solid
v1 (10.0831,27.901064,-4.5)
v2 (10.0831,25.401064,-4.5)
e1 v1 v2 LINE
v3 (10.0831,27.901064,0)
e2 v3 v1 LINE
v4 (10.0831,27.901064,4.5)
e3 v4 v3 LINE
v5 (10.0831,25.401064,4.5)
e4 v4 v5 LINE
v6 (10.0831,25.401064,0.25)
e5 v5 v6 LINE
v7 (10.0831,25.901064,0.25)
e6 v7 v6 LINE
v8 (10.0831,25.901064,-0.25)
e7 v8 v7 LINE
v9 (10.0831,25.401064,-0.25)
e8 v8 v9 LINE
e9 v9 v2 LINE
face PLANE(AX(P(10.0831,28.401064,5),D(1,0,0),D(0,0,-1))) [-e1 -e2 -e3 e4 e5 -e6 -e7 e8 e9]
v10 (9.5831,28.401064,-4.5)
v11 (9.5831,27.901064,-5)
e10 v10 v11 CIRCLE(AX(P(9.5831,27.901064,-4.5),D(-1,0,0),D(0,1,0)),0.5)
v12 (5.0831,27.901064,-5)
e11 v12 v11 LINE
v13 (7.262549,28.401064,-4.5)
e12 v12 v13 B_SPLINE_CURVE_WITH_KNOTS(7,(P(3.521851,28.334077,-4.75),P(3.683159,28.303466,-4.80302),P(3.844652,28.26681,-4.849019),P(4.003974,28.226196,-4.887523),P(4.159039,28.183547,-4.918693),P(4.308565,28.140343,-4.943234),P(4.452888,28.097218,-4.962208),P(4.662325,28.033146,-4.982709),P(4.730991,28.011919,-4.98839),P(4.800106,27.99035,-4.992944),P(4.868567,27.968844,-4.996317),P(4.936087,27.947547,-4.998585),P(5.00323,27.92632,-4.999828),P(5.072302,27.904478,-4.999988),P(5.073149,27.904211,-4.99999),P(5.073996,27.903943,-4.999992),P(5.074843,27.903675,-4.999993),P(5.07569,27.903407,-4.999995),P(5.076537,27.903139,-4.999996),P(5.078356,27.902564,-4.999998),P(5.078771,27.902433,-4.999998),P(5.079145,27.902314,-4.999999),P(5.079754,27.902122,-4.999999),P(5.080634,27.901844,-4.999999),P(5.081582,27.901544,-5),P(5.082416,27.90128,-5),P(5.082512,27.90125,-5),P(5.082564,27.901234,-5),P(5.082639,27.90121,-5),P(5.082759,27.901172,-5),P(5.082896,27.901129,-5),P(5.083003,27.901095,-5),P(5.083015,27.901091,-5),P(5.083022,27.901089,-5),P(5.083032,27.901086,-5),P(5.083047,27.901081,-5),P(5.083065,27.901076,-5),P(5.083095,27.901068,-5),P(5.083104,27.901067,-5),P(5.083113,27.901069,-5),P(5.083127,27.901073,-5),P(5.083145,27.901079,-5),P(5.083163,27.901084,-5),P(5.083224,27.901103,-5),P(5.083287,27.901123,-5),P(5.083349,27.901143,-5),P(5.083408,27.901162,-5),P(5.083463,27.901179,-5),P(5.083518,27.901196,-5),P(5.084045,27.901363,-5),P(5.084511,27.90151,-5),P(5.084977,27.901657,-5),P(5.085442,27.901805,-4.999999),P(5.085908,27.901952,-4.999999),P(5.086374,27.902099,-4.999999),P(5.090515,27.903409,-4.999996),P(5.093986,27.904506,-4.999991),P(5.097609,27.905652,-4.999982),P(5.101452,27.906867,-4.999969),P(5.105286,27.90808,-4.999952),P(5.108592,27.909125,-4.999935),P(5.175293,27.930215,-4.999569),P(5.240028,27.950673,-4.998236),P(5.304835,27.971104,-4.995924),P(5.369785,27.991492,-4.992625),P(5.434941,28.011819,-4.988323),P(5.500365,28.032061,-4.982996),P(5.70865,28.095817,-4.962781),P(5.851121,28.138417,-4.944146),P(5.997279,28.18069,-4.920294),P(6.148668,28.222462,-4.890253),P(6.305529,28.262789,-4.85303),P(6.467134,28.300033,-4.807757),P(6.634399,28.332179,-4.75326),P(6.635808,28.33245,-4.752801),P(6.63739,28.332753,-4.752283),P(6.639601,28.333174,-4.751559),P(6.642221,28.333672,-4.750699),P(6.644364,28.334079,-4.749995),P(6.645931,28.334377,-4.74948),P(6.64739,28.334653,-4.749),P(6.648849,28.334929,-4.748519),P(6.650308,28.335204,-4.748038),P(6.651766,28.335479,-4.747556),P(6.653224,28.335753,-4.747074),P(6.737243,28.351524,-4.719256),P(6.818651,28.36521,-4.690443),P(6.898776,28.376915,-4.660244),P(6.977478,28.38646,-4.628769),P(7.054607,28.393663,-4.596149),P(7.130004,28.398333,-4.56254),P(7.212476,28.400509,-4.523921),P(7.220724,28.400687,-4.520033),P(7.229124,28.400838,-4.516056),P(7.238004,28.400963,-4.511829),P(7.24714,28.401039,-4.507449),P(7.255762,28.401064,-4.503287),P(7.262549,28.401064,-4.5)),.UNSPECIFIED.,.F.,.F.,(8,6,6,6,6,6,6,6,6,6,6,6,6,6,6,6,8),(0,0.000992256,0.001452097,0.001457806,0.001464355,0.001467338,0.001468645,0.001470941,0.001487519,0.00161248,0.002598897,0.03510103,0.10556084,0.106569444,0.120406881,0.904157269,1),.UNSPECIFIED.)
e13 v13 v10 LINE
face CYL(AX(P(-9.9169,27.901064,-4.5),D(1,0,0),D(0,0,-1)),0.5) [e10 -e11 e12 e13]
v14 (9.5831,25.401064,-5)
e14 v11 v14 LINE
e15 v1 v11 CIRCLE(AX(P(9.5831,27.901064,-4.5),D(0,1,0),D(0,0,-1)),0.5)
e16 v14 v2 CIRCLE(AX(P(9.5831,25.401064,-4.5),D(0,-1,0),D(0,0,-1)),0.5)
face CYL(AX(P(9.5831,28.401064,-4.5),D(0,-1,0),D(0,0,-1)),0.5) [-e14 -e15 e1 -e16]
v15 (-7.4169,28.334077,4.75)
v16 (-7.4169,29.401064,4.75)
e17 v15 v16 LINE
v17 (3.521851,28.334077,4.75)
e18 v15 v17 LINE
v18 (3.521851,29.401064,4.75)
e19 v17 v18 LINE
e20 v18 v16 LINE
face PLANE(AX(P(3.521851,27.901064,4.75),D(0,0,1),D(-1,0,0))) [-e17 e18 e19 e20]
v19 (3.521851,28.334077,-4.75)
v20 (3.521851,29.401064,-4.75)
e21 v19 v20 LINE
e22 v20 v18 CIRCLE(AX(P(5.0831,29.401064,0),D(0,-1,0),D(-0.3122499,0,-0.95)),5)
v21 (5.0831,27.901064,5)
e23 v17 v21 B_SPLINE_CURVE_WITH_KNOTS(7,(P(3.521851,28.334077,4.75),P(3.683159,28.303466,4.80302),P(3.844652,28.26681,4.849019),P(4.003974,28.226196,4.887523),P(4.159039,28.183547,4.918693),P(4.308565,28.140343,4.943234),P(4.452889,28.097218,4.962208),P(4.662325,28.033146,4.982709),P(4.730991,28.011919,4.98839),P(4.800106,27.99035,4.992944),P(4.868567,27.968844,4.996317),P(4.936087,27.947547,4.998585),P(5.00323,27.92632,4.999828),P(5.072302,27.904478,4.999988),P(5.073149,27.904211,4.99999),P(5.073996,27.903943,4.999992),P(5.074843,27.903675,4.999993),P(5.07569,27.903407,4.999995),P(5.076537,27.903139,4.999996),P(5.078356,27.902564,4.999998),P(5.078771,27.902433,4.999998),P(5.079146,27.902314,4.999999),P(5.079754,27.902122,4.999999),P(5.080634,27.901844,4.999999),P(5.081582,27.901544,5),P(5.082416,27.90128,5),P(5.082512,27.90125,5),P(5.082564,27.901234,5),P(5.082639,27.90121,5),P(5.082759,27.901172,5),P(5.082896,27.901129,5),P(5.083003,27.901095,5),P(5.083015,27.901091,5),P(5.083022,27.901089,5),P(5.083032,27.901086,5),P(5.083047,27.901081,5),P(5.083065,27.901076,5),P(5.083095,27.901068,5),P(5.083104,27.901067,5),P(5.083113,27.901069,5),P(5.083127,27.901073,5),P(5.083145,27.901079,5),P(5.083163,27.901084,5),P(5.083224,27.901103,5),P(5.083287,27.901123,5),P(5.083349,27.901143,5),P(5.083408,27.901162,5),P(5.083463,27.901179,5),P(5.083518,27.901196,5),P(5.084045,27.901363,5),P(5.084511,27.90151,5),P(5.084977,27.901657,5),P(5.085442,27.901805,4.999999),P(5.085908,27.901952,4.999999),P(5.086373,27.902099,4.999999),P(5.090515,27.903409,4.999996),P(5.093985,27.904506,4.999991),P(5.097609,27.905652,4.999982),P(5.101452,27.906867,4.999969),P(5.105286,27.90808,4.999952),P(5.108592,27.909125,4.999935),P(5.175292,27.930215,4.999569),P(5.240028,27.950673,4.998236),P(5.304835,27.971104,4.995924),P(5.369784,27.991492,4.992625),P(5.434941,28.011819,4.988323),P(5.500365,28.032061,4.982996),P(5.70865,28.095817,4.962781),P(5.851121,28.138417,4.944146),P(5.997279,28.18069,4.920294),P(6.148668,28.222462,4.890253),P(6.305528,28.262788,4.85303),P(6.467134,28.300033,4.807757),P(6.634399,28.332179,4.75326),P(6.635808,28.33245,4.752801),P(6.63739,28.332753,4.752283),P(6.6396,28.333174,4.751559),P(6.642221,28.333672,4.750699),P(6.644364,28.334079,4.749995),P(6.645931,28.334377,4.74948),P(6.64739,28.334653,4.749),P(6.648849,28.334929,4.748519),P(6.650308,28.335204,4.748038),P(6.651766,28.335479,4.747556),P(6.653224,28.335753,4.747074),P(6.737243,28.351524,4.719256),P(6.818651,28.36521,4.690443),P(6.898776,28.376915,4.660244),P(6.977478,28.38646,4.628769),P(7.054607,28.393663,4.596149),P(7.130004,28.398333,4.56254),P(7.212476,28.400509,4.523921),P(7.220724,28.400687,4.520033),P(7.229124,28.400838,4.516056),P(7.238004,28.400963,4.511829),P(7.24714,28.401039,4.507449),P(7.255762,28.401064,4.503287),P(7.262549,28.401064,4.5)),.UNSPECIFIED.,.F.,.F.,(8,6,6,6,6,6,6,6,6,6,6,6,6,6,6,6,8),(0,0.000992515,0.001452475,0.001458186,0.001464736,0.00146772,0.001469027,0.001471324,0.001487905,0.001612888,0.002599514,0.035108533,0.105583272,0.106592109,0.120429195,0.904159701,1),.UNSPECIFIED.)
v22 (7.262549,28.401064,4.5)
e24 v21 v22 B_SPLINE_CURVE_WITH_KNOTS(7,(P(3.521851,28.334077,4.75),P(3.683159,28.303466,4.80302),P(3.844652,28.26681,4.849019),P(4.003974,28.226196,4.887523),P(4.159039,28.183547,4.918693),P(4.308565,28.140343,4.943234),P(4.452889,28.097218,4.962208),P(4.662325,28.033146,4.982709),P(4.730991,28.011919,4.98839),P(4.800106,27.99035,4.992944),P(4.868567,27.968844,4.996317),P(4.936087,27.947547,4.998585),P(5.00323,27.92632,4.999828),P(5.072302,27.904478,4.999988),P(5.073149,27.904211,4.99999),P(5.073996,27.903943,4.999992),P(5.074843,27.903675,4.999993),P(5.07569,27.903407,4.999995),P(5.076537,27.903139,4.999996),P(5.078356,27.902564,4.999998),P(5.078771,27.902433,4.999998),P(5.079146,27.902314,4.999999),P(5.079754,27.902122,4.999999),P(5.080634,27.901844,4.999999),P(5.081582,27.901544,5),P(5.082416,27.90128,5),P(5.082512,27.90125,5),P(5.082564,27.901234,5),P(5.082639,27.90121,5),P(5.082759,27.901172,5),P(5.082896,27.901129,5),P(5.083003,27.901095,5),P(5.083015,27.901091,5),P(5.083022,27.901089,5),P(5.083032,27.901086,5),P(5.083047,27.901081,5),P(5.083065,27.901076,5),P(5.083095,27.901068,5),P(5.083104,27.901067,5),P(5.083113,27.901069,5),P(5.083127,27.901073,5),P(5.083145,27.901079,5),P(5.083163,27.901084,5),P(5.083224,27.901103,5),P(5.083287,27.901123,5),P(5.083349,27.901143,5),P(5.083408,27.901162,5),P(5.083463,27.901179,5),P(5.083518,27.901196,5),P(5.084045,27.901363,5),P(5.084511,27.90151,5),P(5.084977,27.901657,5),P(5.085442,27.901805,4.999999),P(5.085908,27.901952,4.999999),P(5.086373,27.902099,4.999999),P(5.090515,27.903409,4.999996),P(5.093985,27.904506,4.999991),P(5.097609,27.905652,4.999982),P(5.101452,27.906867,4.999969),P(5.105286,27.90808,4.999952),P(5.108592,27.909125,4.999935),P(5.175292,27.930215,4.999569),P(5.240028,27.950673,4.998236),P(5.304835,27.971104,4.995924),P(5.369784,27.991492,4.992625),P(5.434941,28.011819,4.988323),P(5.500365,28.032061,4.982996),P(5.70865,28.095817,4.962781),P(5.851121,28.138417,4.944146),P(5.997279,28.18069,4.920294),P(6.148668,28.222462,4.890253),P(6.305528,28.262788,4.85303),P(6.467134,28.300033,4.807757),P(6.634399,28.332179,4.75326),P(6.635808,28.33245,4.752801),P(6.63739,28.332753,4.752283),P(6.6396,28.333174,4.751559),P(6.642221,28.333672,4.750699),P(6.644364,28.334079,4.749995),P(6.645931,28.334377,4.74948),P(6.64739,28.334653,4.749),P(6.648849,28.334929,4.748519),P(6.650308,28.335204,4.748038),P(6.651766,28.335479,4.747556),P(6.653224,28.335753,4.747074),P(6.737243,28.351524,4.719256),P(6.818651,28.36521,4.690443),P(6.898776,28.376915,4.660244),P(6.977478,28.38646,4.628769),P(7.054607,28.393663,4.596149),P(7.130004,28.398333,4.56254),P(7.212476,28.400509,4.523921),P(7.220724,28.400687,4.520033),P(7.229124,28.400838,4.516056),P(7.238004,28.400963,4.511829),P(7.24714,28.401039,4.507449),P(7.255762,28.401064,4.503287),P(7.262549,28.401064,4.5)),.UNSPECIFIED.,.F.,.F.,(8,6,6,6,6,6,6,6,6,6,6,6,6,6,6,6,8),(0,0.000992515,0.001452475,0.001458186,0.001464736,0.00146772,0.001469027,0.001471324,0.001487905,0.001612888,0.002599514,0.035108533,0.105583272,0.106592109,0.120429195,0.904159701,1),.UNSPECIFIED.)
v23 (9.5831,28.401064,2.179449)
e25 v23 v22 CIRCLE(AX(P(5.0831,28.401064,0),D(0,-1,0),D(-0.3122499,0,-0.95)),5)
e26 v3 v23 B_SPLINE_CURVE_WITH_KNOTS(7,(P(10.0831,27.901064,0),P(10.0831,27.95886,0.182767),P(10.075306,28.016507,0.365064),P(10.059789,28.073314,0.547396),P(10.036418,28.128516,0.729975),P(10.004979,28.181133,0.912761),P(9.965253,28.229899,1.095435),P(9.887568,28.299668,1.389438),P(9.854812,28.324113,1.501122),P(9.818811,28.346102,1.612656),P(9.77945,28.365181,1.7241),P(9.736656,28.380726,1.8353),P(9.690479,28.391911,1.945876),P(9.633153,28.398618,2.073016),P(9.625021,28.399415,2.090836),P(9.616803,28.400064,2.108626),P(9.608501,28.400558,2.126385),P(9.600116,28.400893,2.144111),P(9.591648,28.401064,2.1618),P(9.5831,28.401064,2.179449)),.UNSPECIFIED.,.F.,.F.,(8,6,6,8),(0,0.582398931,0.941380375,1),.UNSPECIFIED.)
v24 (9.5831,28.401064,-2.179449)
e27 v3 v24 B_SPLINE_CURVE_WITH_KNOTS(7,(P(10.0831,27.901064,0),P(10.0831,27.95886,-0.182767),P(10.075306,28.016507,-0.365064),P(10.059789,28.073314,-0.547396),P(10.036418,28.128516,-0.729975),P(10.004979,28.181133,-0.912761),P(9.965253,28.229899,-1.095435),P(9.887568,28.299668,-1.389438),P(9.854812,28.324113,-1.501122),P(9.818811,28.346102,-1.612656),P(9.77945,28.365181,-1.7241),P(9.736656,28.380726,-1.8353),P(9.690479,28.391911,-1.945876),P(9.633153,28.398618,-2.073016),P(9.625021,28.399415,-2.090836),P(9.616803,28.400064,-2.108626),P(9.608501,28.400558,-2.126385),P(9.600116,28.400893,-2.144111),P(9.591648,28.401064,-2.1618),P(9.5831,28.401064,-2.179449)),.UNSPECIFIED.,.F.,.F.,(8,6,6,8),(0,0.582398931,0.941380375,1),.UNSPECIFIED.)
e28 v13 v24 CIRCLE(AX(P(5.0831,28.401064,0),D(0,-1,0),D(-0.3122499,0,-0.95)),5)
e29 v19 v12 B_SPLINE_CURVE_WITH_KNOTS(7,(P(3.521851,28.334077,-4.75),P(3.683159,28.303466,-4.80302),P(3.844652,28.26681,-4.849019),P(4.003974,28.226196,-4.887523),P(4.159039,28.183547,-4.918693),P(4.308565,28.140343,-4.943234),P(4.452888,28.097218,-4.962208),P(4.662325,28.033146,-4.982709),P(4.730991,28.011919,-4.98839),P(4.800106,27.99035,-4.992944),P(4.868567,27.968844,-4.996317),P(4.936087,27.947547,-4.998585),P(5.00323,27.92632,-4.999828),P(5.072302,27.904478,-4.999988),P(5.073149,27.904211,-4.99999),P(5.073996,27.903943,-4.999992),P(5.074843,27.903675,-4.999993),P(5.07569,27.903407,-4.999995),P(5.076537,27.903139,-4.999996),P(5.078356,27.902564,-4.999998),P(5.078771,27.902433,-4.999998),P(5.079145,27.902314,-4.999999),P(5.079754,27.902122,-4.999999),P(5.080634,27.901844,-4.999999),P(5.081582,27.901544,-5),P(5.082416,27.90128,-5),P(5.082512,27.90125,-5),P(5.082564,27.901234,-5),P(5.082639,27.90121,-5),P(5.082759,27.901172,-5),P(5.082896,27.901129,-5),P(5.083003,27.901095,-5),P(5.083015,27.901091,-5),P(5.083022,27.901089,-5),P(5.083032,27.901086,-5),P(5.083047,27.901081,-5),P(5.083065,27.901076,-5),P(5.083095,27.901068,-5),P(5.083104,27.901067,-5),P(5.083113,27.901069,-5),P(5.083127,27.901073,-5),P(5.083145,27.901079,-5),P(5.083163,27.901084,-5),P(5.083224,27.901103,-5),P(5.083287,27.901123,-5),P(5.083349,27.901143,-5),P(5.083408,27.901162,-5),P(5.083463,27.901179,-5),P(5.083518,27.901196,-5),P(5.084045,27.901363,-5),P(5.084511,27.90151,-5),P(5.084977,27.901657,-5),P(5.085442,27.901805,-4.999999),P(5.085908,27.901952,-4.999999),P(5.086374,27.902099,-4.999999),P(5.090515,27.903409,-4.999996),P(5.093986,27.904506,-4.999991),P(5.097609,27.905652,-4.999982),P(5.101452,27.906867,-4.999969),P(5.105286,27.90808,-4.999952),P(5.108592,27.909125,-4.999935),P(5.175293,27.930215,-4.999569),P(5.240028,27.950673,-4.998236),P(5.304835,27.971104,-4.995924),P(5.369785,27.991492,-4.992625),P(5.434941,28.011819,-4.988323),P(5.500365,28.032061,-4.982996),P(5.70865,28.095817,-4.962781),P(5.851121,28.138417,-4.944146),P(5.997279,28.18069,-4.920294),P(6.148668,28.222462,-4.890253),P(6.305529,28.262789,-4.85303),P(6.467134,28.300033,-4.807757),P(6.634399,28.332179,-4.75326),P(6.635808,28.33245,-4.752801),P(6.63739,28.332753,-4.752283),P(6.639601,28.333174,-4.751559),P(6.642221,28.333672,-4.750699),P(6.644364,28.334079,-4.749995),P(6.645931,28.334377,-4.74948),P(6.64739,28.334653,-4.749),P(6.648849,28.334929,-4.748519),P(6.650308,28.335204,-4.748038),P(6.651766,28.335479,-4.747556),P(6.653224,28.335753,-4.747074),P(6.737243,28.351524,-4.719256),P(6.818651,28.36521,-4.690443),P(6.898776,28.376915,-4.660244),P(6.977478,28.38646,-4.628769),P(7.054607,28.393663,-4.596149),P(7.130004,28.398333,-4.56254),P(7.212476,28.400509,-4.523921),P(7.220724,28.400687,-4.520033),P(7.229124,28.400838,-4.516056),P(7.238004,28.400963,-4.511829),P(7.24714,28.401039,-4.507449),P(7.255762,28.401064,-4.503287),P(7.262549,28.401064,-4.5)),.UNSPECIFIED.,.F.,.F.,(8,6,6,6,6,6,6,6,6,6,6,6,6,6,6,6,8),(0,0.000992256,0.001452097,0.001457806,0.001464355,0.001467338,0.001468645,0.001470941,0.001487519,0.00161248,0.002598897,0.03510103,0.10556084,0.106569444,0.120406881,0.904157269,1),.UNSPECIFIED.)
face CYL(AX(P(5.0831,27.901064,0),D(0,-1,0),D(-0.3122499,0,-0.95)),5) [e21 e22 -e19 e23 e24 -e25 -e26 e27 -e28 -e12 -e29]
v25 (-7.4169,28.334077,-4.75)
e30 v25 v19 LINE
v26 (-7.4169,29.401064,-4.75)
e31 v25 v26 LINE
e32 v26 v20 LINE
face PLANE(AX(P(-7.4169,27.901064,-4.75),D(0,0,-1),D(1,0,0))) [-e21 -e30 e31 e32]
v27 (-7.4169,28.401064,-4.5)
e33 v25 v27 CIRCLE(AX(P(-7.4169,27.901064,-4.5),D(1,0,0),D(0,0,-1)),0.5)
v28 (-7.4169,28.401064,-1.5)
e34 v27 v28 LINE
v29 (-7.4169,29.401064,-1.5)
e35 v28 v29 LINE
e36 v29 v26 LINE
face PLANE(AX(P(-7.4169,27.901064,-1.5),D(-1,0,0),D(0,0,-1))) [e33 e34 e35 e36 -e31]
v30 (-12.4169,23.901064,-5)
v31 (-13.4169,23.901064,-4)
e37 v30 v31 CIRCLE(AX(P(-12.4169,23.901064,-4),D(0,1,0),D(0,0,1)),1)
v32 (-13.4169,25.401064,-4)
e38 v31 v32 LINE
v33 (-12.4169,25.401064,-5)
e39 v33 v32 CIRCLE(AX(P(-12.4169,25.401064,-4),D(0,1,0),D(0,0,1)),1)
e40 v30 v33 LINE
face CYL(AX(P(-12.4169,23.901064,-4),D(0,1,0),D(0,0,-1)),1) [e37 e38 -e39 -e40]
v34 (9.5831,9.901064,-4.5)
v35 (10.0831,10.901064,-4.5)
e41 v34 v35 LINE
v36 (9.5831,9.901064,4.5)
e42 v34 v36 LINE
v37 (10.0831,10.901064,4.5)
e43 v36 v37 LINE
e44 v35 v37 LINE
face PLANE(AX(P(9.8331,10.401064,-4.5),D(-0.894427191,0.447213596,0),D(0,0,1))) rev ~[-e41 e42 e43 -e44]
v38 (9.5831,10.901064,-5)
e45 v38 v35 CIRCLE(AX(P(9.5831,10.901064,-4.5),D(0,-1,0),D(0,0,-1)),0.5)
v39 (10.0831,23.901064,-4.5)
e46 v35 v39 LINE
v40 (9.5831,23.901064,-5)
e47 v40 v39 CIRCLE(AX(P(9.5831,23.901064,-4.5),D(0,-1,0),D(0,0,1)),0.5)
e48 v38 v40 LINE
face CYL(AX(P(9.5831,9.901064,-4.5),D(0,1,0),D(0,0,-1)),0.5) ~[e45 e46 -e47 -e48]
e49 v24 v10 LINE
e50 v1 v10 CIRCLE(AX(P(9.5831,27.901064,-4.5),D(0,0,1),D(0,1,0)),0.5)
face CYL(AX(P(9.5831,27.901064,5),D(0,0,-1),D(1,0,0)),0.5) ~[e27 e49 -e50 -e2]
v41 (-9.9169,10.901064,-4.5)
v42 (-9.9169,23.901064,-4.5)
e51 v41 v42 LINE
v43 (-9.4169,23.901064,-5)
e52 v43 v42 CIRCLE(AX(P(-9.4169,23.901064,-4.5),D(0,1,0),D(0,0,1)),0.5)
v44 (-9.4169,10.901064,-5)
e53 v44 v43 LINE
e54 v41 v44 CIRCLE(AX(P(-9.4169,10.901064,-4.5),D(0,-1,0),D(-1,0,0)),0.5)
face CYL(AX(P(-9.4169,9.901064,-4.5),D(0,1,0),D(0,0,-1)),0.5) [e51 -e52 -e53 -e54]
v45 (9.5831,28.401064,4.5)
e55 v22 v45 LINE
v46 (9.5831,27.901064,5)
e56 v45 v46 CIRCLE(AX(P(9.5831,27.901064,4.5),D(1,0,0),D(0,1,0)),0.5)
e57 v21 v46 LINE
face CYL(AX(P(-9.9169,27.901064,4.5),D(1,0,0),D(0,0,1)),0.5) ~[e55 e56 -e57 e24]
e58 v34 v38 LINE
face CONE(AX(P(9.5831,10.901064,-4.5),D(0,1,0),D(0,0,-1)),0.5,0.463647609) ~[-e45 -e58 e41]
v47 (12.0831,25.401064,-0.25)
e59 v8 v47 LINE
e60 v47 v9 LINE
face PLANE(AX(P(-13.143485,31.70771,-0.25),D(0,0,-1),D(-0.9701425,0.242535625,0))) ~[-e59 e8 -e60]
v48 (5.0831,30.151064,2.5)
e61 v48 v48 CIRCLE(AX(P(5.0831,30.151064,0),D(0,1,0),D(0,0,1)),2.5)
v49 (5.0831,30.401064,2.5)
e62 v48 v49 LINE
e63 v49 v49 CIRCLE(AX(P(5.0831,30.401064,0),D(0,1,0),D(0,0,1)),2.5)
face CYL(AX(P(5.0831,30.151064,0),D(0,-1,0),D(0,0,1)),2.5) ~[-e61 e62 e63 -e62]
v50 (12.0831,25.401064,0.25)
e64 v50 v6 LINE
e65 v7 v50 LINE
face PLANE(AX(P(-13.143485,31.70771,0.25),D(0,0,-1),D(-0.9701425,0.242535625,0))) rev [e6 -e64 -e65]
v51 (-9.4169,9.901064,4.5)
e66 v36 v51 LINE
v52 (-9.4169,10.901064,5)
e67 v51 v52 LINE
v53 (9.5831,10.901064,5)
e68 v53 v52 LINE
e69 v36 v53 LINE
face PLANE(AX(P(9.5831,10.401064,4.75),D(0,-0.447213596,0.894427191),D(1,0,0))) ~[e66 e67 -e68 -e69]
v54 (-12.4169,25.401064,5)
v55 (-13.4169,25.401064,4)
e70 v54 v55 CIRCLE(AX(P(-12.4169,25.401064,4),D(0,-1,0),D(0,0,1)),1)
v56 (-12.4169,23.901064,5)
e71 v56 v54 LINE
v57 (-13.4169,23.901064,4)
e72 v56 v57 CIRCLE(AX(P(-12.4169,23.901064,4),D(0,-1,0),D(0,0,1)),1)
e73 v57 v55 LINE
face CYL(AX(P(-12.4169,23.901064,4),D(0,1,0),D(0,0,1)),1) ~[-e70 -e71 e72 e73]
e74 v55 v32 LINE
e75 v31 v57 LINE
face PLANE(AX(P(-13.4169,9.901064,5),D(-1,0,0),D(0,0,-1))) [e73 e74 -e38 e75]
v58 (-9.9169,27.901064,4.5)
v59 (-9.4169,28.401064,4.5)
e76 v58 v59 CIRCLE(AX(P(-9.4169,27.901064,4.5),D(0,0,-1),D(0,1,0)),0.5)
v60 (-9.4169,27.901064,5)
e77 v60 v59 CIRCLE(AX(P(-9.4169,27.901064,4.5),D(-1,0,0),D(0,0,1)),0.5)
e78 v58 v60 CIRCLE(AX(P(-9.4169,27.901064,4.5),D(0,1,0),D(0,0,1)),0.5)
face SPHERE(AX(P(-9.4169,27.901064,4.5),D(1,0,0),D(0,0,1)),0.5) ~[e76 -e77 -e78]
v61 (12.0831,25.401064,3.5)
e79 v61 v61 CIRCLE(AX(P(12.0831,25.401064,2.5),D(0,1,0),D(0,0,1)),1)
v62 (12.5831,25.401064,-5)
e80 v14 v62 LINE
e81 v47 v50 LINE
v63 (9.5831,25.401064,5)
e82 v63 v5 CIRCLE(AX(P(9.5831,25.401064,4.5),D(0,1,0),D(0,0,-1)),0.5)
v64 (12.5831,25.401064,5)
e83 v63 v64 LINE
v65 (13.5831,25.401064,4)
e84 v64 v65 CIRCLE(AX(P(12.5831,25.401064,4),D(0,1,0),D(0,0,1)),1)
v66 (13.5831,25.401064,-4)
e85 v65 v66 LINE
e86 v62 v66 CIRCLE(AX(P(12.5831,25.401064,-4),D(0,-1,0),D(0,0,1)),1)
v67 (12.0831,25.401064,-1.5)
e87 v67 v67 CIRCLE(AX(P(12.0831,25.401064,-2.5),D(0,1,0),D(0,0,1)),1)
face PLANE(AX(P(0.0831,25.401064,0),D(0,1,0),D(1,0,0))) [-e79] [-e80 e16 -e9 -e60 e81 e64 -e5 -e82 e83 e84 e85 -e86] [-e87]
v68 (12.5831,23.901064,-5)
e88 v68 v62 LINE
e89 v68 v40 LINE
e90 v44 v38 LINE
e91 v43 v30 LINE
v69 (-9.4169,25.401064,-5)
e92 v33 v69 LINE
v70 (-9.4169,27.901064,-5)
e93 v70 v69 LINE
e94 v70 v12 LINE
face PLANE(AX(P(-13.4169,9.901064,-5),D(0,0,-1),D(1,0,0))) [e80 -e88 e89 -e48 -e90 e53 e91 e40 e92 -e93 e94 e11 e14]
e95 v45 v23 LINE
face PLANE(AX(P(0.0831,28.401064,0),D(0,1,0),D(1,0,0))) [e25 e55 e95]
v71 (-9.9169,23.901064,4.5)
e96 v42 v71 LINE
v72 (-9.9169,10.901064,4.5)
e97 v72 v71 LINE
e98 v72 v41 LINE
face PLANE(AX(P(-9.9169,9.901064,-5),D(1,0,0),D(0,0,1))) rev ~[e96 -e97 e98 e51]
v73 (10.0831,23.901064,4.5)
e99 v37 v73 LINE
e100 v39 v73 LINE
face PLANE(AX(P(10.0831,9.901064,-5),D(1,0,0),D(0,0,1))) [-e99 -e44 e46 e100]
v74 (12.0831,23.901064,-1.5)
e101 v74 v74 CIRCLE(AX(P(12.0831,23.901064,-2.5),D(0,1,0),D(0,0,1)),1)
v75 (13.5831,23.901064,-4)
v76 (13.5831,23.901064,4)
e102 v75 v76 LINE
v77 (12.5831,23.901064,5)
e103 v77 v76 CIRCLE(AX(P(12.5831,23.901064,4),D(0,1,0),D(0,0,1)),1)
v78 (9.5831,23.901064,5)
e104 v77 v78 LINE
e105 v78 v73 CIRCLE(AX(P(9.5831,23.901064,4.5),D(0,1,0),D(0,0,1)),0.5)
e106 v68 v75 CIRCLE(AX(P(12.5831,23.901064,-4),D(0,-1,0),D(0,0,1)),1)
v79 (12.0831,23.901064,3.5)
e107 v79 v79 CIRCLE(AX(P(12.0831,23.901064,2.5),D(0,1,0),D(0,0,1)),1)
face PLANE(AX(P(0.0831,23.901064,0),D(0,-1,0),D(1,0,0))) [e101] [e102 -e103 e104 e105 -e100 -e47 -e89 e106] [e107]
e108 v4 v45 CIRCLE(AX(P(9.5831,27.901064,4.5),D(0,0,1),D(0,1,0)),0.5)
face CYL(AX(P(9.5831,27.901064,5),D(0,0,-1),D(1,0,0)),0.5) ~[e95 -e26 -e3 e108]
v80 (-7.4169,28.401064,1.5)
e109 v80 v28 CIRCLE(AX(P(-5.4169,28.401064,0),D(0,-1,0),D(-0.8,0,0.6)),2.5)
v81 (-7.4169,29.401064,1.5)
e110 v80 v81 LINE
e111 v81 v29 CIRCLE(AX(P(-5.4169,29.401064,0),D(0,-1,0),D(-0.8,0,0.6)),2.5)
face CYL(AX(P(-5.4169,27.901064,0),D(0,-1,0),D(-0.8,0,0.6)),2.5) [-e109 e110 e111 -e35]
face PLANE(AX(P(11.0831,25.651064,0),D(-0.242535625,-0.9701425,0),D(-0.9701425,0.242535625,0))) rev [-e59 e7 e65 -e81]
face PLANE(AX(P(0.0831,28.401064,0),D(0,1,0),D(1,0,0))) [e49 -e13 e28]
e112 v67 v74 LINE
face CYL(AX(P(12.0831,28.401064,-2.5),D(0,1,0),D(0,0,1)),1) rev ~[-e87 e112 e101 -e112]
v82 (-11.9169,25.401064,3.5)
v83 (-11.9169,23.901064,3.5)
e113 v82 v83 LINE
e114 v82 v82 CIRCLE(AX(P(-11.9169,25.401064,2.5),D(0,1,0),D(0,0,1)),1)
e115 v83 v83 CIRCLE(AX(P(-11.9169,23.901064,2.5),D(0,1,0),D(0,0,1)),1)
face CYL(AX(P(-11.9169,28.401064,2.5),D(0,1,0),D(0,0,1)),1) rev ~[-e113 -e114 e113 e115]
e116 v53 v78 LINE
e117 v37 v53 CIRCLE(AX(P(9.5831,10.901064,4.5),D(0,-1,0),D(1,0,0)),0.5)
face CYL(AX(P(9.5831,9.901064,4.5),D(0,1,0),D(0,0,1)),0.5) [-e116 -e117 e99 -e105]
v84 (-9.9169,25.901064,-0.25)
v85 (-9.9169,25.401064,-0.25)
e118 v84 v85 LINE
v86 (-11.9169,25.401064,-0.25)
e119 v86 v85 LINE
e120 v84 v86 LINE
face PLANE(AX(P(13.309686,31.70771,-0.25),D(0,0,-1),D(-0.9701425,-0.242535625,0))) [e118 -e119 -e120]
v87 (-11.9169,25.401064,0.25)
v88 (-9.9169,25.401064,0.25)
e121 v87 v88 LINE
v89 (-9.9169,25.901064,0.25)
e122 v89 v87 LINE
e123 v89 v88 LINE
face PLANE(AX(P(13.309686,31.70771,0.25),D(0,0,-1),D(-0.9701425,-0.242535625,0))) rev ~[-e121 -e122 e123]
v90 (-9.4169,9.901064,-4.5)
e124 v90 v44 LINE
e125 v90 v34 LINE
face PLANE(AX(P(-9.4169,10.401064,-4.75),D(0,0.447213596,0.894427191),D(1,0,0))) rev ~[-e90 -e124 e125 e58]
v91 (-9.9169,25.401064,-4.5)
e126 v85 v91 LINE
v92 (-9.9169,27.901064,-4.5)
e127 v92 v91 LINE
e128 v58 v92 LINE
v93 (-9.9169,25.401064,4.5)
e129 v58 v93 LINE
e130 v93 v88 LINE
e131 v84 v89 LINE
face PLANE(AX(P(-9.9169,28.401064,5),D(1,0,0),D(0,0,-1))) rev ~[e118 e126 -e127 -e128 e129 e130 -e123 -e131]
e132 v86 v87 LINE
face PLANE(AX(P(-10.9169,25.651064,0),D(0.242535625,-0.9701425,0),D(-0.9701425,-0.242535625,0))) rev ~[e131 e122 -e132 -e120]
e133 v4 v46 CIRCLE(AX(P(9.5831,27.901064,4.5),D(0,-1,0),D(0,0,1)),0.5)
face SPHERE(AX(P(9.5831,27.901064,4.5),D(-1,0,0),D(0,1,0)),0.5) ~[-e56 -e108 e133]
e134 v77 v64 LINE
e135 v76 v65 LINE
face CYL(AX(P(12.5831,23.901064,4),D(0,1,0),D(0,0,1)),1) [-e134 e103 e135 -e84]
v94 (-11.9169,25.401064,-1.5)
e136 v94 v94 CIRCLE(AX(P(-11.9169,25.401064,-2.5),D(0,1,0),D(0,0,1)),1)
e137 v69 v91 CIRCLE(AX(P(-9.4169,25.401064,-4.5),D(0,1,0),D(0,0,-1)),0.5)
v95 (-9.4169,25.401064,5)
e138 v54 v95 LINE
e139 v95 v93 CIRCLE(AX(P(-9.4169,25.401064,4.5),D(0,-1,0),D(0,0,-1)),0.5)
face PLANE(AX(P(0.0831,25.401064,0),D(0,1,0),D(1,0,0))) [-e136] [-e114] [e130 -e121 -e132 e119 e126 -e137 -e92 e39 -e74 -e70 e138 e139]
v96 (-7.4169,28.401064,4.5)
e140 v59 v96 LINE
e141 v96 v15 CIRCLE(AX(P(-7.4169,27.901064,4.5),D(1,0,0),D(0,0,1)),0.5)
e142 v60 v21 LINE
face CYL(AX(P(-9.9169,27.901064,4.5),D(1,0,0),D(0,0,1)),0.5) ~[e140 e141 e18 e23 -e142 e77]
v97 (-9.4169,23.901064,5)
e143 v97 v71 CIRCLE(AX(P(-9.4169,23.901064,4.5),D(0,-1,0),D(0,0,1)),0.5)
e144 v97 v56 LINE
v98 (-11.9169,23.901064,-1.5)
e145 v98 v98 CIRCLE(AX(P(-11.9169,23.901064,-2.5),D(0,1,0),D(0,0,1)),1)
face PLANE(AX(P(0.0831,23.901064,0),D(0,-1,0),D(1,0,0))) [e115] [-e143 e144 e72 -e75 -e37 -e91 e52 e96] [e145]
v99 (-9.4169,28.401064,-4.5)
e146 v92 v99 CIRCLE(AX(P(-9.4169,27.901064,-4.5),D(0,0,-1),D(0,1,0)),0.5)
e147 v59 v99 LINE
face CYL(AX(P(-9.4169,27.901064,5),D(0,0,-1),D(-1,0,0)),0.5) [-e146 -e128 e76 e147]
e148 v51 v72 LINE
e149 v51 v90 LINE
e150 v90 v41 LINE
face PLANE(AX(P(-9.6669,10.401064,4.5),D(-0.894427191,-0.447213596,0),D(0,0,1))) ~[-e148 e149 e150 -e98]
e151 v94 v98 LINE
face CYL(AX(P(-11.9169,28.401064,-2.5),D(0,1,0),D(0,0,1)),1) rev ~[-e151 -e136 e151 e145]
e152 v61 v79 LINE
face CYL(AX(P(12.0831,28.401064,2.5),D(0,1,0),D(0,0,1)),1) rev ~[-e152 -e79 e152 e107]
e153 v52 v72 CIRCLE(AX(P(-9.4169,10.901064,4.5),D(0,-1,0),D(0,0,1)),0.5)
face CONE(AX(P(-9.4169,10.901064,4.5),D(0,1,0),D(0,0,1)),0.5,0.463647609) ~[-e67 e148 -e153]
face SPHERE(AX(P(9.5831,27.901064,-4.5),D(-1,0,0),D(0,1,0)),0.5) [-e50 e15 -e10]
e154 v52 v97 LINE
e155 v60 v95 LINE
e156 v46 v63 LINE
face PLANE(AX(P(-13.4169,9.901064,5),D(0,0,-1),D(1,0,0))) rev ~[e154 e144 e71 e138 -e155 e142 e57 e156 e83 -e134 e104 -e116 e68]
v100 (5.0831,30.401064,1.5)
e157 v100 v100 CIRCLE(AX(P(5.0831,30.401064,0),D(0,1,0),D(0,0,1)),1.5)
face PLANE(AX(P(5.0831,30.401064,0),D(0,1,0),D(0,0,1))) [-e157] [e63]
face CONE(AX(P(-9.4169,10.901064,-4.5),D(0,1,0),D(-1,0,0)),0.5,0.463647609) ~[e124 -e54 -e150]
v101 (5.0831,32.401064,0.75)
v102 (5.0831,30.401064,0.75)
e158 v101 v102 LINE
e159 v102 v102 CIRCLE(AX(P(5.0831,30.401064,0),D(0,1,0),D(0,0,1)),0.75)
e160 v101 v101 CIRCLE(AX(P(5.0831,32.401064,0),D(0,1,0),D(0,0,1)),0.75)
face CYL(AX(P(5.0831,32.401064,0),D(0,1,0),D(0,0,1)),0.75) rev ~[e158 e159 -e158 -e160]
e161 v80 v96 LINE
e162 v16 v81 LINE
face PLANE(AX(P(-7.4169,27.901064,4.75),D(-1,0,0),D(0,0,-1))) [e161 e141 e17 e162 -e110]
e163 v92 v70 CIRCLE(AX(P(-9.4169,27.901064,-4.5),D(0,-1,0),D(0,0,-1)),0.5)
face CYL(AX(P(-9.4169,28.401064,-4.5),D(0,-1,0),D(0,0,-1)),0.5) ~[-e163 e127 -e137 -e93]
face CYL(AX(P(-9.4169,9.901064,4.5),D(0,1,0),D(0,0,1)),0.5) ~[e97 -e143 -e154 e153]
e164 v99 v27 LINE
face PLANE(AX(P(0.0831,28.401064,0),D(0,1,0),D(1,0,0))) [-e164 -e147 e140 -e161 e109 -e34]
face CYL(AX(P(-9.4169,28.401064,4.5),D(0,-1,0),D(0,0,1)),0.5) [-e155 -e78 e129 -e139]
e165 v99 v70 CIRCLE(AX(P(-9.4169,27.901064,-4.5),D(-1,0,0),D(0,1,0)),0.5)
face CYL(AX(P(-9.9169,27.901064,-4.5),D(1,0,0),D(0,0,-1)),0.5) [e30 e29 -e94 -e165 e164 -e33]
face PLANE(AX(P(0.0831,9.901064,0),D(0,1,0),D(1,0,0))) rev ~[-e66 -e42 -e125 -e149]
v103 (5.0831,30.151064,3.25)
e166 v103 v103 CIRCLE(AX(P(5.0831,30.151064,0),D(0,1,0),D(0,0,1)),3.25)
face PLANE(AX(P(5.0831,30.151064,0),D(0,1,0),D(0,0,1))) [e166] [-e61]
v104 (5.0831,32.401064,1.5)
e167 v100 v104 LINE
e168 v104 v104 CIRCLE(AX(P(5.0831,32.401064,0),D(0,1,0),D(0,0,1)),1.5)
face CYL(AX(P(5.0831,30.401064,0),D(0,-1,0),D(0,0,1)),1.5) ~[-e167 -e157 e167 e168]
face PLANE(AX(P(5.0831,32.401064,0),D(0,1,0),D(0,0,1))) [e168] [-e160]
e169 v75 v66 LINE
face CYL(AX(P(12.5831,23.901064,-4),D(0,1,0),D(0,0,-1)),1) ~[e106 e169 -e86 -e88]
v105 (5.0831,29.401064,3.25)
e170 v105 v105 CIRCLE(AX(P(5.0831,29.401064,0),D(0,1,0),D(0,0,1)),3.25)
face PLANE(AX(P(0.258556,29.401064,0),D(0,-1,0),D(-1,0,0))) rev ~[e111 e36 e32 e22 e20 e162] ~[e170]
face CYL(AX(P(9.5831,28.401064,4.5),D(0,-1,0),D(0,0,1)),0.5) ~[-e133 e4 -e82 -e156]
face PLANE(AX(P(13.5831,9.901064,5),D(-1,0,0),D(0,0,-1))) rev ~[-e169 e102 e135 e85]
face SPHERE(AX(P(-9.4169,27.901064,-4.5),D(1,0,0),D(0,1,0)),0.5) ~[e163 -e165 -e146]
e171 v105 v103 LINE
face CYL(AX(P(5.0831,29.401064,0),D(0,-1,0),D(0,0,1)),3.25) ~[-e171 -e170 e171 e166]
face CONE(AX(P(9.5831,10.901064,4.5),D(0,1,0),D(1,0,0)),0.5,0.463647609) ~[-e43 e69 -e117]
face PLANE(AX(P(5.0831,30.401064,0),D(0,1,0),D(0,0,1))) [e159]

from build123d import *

# Parameters (mm, degrees)
SKETCH_1_W          = 54
SKETCH_1_H          = 20
EXTRUDE_1_DEPTH     = 37
SKETCH_2_W          = 67.922695334
SKETCH_2_H          = 39.407561178
SKETCH_2_W_2        = 40
SKETCH_2_H_2        = 20
CUT_EXTRUDE_1_DEPTH = 28
SKETCH_3_W          = 67.922695334
SKETCH_3_H          = 33.385731604
SKETCH_3_W_2        = 40
SKETCH_3_H_2        = 20
CUT_EXTRUDE_2_DEPTH = 6
FILLET_1_R          = 1
FILLET_2_R          = 2
CHAMFER_1_SIZE      = 1
CHAMFER_1_SIZE2     = 2
SKETCH_4_R          = 2
CUT_EXTRUDE_3_DEPTH = 30
RIB_1_REACH         = 48.883
SKETCH_5_WALL_W     = 99.888770984
SKETCH_5_WALL_H     = 1
EXTRUDE_START       = -1
EXTRUDE_4_DEPTH     = 3
SKETCH_9_R          = 6.5
EXTRUDE_5_DEPTH     = 2
CUT_EXTRUDE_START   = -0.5
SKETCH_10_R         = 6.5
SKETCH_10_R_2       = 5
CUT_EXTRUDE_4_DEPTH = 0.5
SKETCH_11_R         = 3
EXTRUDE_6_DEPTH     = 4
SKETCH_14_R         = 1.5
CUT_EXTRUDE_5_DEPTH = 4
SCALE_1_SCALE       = 0.5


with BuildPart() as part:
    # 草图1 → 凸台-拉伸1 (new body)
    with BuildSketch(Plane(origin=(0, 0, 0), x_dir=(1, 0, 0), z_dir=(0, 1, 0))):
        Rectangle(SKETCH_1_W, SKETCH_1_H)
    extrude(amount=EXTRUDE_1_DEPTH)

    # 草图2 → 切除-拉伸1 (cut)
    with BuildSketch(Plane.XZ):
        Rectangle(SKETCH_2_W, SKETCH_2_H)
        Rectangle(SKETCH_2_W_2, SKETCH_2_H_2, mode=Mode.SUBTRACT)
    extrude(amount=-CUT_EXTRUDE_1_DEPTH, mode=Mode.SUBTRACT)

    # 草图3 → 切除-拉伸2 (cut)
    with BuildSketch(Plane(origin=(0, 37, 0), x_dir=(1, 0, 0), z_dir=(0, 1, 0))):
        Rectangle(SKETCH_3_W, SKETCH_3_H)
        Rectangle(SKETCH_3_W_2, SKETCH_3_H_2, mode=Mode.SUBTRACT)
    extrude(amount=-CUT_EXTRUDE_2_DEPTH, mode=Mode.SUBTRACT)

    # 圆角1
    fillet_1_edges = [part.edges().sort_by_distance(p)[0] for p in [
        (20, 14, -10),
        (-20, 14, -10),
        (-20, 14, 10),
        (20, 14, 10),
        (0, 37, -10),
        (0, 37, 10),
        (20, 37, 0),
        (20, 34, 10),
        (-20, 34, 10),
        (-20, 37, 0),
        (-20, 34, -10),
        (20, 34, -10),
    ]]
    fillet(fillet_1_edges, radius=FILLET_1_R)

    # 圆角2
    fillet_2_edges = [part.edges().sort_by_distance(p)[0] for p in [
        (27, 29.5, 10),
        (-27, 29.5, 10),
        (-27, 29.5, -10),
        (27, 29.5, -10),
    ]]
    fillet(fillet_2_edges, radius=FILLET_2_R)

    # 倒角1
    chamfer_1_edges = [part.edges().sort_by_distance(p)[0] for p in [
        (0, 0, -10),
        (0, 0, 10),
        (-20, 0, 0),
        (20, 0, 0),
        (-19.707106781, 0, 9.707106781),
        (19.707106781, 0, 9.707106781),
        (19.707106781, 0, -9.707106781),
        (-19.707106781, 0, -9.707106781),
    ]]
    chamfer_1_side = [part.faces().sort_by_distance(p)[0] for p in [
        (0, 0, 0),
    ]]
    chamfer(chamfer_1_edges, length=CHAMFER_1_SIZE, length2=CHAMFER_1_SIZE2, reference=chamfer_1_side[0])

    # 草图4 → 切除-拉伸3 (cut)
    with BuildSketch(Plane(origin=(0, 37, 0), x_dir=(1, 0, 0), z_dir=(0, 1, 0))):
        with Locations(Location((-24, 5, 0), (0, 0, 270))):
            Circle(SKETCH_4_R)
        with Locations(Location((-24, -5, 0), (0, 0, 270))):
            Circle(SKETCH_4_R)
        with Locations(Location((24, -5, 0), (0, 0, 270))):
            Circle(SKETCH_4_R)
        with Locations(Location((24, 5, 0), (0, 0, 270))):
            Circle(SKETCH_4_R)
    extrude(amount=-CUT_EXTRUDE_3_DEPTH, mode=Mode.SUBTRACT)

    # 草图5 wall → 筋1 (add, up to next)
    with BuildSketch(Plane(origin=(-22, 31.5, 0), x_dir=(-0.970142500145, -0.242535625036, 0), z_dir=(0.242535625036, -0.970142500145, 0)), mode=Mode.PRIVATE) as rib_1_sk1:
        Rectangle(SKETCH_5_WALL_W, SKETCH_5_WALL_H)
    rib_1_tool1 = extrude(rib_1_sk1.sketch, amount=RIB_1_REACH, mode=Mode.PRIVATE) - part.part
    rib_1 = rib_1_tool1.solids().sort_by_distance((-22, 31.5, 0))[0]
    add(rib_1)

    # 镜向1: 筋1 across plane
    add(rib_1.mirror(Plane(origin=(0, 0, 0), x_dir=(0, 0, 1), z_dir=(1, 0, 0))))

    # 草图8 → 凸台-拉伸4 (add)
    with BuildSketch(Plane(origin=(0, 37, 0), x_dir=(1, 0, 0), z_dir=(0, 1, 0)).offset(EXTRUDE_START)):
        with BuildLine():
            Line((-15, 9.5), (6.877501001, 9.5))
            ThreePointArc((6.877501001, 9.5), (20, 0), (6.877501001, -9.5))
            Line((6.877501001, -9.5), (-15, -9.5))
            Line((-15, -9.5), (-15, -3))
            ThreePointArc((-15, -3), (-16, 0), (-15, 3))
            Line((-15, 3), (-15, 9.5))
        make_face()
    extrude(amount=EXTRUDE_4_DEPTH)

    # 草图9 → 凸台-拉伸5 (add)
    with BuildSketch(Plane(origin=(0, 39, 0), x_dir=(1, 0, 0), z_dir=(0, 1, 0))):
        with Locations(Location((10, 0, 0), (0, 0, 270))):
            Circle(SKETCH_9_R)
    extrude(amount=EXTRUDE_5_DEPTH)

    # 草图10 → 切除-拉伸4 (cut)
    with BuildSketch(Plane(origin=(0, 41, 0), x_dir=(1, 0, 0), z_dir=(0, 1, 0)).offset(CUT_EXTRUDE_START)):
        with Locations(Location((10, 0, 0), (0, 0, 270))):
            Circle(SKETCH_10_R)
        with Locations(Location((10, 0, 0), (0, 0, 270))):
            Circle(SKETCH_10_R_2, mode=Mode.SUBTRACT)
    extrude(amount=CUT_EXTRUDE_4_DEPTH, mode=Mode.SUBTRACT)

    # 草图11 → 凸台-拉伸6 (add)
    with BuildSketch(Plane(origin=(0, 41, 0), x_dir=(1, 0, 0), z_dir=(0, 1, 0))):
        with Locations(Location((10, 0, 0), (0, 0, 270))):
            Circle(SKETCH_11_R)
    extrude(amount=EXTRUDE_6_DEPTH)

    # 草图14 → 切除-拉伸5 (cut)
    with BuildSketch(Plane(origin=(0, 45, 0), x_dir=(1, 0, 0), z_dir=(0, 1, 0))):
        with Locations(Location((10, 0, 0), (0, 0, 270))):
            Circle(SKETCH_14_R)
    extrude(amount=-CUT_EXTRUDE_5_DEPTH, mode=Mode.SUBTRACT)


with BuildPart() as part_1:
    # 缩放比例1: scaled about (0.166200011, 19.802127708, 0)
    add(part.part.scale(SCALE_1_SCALE).moved(Location((0.083100006, 9.901063854, 0))))


solid = part_1.part
